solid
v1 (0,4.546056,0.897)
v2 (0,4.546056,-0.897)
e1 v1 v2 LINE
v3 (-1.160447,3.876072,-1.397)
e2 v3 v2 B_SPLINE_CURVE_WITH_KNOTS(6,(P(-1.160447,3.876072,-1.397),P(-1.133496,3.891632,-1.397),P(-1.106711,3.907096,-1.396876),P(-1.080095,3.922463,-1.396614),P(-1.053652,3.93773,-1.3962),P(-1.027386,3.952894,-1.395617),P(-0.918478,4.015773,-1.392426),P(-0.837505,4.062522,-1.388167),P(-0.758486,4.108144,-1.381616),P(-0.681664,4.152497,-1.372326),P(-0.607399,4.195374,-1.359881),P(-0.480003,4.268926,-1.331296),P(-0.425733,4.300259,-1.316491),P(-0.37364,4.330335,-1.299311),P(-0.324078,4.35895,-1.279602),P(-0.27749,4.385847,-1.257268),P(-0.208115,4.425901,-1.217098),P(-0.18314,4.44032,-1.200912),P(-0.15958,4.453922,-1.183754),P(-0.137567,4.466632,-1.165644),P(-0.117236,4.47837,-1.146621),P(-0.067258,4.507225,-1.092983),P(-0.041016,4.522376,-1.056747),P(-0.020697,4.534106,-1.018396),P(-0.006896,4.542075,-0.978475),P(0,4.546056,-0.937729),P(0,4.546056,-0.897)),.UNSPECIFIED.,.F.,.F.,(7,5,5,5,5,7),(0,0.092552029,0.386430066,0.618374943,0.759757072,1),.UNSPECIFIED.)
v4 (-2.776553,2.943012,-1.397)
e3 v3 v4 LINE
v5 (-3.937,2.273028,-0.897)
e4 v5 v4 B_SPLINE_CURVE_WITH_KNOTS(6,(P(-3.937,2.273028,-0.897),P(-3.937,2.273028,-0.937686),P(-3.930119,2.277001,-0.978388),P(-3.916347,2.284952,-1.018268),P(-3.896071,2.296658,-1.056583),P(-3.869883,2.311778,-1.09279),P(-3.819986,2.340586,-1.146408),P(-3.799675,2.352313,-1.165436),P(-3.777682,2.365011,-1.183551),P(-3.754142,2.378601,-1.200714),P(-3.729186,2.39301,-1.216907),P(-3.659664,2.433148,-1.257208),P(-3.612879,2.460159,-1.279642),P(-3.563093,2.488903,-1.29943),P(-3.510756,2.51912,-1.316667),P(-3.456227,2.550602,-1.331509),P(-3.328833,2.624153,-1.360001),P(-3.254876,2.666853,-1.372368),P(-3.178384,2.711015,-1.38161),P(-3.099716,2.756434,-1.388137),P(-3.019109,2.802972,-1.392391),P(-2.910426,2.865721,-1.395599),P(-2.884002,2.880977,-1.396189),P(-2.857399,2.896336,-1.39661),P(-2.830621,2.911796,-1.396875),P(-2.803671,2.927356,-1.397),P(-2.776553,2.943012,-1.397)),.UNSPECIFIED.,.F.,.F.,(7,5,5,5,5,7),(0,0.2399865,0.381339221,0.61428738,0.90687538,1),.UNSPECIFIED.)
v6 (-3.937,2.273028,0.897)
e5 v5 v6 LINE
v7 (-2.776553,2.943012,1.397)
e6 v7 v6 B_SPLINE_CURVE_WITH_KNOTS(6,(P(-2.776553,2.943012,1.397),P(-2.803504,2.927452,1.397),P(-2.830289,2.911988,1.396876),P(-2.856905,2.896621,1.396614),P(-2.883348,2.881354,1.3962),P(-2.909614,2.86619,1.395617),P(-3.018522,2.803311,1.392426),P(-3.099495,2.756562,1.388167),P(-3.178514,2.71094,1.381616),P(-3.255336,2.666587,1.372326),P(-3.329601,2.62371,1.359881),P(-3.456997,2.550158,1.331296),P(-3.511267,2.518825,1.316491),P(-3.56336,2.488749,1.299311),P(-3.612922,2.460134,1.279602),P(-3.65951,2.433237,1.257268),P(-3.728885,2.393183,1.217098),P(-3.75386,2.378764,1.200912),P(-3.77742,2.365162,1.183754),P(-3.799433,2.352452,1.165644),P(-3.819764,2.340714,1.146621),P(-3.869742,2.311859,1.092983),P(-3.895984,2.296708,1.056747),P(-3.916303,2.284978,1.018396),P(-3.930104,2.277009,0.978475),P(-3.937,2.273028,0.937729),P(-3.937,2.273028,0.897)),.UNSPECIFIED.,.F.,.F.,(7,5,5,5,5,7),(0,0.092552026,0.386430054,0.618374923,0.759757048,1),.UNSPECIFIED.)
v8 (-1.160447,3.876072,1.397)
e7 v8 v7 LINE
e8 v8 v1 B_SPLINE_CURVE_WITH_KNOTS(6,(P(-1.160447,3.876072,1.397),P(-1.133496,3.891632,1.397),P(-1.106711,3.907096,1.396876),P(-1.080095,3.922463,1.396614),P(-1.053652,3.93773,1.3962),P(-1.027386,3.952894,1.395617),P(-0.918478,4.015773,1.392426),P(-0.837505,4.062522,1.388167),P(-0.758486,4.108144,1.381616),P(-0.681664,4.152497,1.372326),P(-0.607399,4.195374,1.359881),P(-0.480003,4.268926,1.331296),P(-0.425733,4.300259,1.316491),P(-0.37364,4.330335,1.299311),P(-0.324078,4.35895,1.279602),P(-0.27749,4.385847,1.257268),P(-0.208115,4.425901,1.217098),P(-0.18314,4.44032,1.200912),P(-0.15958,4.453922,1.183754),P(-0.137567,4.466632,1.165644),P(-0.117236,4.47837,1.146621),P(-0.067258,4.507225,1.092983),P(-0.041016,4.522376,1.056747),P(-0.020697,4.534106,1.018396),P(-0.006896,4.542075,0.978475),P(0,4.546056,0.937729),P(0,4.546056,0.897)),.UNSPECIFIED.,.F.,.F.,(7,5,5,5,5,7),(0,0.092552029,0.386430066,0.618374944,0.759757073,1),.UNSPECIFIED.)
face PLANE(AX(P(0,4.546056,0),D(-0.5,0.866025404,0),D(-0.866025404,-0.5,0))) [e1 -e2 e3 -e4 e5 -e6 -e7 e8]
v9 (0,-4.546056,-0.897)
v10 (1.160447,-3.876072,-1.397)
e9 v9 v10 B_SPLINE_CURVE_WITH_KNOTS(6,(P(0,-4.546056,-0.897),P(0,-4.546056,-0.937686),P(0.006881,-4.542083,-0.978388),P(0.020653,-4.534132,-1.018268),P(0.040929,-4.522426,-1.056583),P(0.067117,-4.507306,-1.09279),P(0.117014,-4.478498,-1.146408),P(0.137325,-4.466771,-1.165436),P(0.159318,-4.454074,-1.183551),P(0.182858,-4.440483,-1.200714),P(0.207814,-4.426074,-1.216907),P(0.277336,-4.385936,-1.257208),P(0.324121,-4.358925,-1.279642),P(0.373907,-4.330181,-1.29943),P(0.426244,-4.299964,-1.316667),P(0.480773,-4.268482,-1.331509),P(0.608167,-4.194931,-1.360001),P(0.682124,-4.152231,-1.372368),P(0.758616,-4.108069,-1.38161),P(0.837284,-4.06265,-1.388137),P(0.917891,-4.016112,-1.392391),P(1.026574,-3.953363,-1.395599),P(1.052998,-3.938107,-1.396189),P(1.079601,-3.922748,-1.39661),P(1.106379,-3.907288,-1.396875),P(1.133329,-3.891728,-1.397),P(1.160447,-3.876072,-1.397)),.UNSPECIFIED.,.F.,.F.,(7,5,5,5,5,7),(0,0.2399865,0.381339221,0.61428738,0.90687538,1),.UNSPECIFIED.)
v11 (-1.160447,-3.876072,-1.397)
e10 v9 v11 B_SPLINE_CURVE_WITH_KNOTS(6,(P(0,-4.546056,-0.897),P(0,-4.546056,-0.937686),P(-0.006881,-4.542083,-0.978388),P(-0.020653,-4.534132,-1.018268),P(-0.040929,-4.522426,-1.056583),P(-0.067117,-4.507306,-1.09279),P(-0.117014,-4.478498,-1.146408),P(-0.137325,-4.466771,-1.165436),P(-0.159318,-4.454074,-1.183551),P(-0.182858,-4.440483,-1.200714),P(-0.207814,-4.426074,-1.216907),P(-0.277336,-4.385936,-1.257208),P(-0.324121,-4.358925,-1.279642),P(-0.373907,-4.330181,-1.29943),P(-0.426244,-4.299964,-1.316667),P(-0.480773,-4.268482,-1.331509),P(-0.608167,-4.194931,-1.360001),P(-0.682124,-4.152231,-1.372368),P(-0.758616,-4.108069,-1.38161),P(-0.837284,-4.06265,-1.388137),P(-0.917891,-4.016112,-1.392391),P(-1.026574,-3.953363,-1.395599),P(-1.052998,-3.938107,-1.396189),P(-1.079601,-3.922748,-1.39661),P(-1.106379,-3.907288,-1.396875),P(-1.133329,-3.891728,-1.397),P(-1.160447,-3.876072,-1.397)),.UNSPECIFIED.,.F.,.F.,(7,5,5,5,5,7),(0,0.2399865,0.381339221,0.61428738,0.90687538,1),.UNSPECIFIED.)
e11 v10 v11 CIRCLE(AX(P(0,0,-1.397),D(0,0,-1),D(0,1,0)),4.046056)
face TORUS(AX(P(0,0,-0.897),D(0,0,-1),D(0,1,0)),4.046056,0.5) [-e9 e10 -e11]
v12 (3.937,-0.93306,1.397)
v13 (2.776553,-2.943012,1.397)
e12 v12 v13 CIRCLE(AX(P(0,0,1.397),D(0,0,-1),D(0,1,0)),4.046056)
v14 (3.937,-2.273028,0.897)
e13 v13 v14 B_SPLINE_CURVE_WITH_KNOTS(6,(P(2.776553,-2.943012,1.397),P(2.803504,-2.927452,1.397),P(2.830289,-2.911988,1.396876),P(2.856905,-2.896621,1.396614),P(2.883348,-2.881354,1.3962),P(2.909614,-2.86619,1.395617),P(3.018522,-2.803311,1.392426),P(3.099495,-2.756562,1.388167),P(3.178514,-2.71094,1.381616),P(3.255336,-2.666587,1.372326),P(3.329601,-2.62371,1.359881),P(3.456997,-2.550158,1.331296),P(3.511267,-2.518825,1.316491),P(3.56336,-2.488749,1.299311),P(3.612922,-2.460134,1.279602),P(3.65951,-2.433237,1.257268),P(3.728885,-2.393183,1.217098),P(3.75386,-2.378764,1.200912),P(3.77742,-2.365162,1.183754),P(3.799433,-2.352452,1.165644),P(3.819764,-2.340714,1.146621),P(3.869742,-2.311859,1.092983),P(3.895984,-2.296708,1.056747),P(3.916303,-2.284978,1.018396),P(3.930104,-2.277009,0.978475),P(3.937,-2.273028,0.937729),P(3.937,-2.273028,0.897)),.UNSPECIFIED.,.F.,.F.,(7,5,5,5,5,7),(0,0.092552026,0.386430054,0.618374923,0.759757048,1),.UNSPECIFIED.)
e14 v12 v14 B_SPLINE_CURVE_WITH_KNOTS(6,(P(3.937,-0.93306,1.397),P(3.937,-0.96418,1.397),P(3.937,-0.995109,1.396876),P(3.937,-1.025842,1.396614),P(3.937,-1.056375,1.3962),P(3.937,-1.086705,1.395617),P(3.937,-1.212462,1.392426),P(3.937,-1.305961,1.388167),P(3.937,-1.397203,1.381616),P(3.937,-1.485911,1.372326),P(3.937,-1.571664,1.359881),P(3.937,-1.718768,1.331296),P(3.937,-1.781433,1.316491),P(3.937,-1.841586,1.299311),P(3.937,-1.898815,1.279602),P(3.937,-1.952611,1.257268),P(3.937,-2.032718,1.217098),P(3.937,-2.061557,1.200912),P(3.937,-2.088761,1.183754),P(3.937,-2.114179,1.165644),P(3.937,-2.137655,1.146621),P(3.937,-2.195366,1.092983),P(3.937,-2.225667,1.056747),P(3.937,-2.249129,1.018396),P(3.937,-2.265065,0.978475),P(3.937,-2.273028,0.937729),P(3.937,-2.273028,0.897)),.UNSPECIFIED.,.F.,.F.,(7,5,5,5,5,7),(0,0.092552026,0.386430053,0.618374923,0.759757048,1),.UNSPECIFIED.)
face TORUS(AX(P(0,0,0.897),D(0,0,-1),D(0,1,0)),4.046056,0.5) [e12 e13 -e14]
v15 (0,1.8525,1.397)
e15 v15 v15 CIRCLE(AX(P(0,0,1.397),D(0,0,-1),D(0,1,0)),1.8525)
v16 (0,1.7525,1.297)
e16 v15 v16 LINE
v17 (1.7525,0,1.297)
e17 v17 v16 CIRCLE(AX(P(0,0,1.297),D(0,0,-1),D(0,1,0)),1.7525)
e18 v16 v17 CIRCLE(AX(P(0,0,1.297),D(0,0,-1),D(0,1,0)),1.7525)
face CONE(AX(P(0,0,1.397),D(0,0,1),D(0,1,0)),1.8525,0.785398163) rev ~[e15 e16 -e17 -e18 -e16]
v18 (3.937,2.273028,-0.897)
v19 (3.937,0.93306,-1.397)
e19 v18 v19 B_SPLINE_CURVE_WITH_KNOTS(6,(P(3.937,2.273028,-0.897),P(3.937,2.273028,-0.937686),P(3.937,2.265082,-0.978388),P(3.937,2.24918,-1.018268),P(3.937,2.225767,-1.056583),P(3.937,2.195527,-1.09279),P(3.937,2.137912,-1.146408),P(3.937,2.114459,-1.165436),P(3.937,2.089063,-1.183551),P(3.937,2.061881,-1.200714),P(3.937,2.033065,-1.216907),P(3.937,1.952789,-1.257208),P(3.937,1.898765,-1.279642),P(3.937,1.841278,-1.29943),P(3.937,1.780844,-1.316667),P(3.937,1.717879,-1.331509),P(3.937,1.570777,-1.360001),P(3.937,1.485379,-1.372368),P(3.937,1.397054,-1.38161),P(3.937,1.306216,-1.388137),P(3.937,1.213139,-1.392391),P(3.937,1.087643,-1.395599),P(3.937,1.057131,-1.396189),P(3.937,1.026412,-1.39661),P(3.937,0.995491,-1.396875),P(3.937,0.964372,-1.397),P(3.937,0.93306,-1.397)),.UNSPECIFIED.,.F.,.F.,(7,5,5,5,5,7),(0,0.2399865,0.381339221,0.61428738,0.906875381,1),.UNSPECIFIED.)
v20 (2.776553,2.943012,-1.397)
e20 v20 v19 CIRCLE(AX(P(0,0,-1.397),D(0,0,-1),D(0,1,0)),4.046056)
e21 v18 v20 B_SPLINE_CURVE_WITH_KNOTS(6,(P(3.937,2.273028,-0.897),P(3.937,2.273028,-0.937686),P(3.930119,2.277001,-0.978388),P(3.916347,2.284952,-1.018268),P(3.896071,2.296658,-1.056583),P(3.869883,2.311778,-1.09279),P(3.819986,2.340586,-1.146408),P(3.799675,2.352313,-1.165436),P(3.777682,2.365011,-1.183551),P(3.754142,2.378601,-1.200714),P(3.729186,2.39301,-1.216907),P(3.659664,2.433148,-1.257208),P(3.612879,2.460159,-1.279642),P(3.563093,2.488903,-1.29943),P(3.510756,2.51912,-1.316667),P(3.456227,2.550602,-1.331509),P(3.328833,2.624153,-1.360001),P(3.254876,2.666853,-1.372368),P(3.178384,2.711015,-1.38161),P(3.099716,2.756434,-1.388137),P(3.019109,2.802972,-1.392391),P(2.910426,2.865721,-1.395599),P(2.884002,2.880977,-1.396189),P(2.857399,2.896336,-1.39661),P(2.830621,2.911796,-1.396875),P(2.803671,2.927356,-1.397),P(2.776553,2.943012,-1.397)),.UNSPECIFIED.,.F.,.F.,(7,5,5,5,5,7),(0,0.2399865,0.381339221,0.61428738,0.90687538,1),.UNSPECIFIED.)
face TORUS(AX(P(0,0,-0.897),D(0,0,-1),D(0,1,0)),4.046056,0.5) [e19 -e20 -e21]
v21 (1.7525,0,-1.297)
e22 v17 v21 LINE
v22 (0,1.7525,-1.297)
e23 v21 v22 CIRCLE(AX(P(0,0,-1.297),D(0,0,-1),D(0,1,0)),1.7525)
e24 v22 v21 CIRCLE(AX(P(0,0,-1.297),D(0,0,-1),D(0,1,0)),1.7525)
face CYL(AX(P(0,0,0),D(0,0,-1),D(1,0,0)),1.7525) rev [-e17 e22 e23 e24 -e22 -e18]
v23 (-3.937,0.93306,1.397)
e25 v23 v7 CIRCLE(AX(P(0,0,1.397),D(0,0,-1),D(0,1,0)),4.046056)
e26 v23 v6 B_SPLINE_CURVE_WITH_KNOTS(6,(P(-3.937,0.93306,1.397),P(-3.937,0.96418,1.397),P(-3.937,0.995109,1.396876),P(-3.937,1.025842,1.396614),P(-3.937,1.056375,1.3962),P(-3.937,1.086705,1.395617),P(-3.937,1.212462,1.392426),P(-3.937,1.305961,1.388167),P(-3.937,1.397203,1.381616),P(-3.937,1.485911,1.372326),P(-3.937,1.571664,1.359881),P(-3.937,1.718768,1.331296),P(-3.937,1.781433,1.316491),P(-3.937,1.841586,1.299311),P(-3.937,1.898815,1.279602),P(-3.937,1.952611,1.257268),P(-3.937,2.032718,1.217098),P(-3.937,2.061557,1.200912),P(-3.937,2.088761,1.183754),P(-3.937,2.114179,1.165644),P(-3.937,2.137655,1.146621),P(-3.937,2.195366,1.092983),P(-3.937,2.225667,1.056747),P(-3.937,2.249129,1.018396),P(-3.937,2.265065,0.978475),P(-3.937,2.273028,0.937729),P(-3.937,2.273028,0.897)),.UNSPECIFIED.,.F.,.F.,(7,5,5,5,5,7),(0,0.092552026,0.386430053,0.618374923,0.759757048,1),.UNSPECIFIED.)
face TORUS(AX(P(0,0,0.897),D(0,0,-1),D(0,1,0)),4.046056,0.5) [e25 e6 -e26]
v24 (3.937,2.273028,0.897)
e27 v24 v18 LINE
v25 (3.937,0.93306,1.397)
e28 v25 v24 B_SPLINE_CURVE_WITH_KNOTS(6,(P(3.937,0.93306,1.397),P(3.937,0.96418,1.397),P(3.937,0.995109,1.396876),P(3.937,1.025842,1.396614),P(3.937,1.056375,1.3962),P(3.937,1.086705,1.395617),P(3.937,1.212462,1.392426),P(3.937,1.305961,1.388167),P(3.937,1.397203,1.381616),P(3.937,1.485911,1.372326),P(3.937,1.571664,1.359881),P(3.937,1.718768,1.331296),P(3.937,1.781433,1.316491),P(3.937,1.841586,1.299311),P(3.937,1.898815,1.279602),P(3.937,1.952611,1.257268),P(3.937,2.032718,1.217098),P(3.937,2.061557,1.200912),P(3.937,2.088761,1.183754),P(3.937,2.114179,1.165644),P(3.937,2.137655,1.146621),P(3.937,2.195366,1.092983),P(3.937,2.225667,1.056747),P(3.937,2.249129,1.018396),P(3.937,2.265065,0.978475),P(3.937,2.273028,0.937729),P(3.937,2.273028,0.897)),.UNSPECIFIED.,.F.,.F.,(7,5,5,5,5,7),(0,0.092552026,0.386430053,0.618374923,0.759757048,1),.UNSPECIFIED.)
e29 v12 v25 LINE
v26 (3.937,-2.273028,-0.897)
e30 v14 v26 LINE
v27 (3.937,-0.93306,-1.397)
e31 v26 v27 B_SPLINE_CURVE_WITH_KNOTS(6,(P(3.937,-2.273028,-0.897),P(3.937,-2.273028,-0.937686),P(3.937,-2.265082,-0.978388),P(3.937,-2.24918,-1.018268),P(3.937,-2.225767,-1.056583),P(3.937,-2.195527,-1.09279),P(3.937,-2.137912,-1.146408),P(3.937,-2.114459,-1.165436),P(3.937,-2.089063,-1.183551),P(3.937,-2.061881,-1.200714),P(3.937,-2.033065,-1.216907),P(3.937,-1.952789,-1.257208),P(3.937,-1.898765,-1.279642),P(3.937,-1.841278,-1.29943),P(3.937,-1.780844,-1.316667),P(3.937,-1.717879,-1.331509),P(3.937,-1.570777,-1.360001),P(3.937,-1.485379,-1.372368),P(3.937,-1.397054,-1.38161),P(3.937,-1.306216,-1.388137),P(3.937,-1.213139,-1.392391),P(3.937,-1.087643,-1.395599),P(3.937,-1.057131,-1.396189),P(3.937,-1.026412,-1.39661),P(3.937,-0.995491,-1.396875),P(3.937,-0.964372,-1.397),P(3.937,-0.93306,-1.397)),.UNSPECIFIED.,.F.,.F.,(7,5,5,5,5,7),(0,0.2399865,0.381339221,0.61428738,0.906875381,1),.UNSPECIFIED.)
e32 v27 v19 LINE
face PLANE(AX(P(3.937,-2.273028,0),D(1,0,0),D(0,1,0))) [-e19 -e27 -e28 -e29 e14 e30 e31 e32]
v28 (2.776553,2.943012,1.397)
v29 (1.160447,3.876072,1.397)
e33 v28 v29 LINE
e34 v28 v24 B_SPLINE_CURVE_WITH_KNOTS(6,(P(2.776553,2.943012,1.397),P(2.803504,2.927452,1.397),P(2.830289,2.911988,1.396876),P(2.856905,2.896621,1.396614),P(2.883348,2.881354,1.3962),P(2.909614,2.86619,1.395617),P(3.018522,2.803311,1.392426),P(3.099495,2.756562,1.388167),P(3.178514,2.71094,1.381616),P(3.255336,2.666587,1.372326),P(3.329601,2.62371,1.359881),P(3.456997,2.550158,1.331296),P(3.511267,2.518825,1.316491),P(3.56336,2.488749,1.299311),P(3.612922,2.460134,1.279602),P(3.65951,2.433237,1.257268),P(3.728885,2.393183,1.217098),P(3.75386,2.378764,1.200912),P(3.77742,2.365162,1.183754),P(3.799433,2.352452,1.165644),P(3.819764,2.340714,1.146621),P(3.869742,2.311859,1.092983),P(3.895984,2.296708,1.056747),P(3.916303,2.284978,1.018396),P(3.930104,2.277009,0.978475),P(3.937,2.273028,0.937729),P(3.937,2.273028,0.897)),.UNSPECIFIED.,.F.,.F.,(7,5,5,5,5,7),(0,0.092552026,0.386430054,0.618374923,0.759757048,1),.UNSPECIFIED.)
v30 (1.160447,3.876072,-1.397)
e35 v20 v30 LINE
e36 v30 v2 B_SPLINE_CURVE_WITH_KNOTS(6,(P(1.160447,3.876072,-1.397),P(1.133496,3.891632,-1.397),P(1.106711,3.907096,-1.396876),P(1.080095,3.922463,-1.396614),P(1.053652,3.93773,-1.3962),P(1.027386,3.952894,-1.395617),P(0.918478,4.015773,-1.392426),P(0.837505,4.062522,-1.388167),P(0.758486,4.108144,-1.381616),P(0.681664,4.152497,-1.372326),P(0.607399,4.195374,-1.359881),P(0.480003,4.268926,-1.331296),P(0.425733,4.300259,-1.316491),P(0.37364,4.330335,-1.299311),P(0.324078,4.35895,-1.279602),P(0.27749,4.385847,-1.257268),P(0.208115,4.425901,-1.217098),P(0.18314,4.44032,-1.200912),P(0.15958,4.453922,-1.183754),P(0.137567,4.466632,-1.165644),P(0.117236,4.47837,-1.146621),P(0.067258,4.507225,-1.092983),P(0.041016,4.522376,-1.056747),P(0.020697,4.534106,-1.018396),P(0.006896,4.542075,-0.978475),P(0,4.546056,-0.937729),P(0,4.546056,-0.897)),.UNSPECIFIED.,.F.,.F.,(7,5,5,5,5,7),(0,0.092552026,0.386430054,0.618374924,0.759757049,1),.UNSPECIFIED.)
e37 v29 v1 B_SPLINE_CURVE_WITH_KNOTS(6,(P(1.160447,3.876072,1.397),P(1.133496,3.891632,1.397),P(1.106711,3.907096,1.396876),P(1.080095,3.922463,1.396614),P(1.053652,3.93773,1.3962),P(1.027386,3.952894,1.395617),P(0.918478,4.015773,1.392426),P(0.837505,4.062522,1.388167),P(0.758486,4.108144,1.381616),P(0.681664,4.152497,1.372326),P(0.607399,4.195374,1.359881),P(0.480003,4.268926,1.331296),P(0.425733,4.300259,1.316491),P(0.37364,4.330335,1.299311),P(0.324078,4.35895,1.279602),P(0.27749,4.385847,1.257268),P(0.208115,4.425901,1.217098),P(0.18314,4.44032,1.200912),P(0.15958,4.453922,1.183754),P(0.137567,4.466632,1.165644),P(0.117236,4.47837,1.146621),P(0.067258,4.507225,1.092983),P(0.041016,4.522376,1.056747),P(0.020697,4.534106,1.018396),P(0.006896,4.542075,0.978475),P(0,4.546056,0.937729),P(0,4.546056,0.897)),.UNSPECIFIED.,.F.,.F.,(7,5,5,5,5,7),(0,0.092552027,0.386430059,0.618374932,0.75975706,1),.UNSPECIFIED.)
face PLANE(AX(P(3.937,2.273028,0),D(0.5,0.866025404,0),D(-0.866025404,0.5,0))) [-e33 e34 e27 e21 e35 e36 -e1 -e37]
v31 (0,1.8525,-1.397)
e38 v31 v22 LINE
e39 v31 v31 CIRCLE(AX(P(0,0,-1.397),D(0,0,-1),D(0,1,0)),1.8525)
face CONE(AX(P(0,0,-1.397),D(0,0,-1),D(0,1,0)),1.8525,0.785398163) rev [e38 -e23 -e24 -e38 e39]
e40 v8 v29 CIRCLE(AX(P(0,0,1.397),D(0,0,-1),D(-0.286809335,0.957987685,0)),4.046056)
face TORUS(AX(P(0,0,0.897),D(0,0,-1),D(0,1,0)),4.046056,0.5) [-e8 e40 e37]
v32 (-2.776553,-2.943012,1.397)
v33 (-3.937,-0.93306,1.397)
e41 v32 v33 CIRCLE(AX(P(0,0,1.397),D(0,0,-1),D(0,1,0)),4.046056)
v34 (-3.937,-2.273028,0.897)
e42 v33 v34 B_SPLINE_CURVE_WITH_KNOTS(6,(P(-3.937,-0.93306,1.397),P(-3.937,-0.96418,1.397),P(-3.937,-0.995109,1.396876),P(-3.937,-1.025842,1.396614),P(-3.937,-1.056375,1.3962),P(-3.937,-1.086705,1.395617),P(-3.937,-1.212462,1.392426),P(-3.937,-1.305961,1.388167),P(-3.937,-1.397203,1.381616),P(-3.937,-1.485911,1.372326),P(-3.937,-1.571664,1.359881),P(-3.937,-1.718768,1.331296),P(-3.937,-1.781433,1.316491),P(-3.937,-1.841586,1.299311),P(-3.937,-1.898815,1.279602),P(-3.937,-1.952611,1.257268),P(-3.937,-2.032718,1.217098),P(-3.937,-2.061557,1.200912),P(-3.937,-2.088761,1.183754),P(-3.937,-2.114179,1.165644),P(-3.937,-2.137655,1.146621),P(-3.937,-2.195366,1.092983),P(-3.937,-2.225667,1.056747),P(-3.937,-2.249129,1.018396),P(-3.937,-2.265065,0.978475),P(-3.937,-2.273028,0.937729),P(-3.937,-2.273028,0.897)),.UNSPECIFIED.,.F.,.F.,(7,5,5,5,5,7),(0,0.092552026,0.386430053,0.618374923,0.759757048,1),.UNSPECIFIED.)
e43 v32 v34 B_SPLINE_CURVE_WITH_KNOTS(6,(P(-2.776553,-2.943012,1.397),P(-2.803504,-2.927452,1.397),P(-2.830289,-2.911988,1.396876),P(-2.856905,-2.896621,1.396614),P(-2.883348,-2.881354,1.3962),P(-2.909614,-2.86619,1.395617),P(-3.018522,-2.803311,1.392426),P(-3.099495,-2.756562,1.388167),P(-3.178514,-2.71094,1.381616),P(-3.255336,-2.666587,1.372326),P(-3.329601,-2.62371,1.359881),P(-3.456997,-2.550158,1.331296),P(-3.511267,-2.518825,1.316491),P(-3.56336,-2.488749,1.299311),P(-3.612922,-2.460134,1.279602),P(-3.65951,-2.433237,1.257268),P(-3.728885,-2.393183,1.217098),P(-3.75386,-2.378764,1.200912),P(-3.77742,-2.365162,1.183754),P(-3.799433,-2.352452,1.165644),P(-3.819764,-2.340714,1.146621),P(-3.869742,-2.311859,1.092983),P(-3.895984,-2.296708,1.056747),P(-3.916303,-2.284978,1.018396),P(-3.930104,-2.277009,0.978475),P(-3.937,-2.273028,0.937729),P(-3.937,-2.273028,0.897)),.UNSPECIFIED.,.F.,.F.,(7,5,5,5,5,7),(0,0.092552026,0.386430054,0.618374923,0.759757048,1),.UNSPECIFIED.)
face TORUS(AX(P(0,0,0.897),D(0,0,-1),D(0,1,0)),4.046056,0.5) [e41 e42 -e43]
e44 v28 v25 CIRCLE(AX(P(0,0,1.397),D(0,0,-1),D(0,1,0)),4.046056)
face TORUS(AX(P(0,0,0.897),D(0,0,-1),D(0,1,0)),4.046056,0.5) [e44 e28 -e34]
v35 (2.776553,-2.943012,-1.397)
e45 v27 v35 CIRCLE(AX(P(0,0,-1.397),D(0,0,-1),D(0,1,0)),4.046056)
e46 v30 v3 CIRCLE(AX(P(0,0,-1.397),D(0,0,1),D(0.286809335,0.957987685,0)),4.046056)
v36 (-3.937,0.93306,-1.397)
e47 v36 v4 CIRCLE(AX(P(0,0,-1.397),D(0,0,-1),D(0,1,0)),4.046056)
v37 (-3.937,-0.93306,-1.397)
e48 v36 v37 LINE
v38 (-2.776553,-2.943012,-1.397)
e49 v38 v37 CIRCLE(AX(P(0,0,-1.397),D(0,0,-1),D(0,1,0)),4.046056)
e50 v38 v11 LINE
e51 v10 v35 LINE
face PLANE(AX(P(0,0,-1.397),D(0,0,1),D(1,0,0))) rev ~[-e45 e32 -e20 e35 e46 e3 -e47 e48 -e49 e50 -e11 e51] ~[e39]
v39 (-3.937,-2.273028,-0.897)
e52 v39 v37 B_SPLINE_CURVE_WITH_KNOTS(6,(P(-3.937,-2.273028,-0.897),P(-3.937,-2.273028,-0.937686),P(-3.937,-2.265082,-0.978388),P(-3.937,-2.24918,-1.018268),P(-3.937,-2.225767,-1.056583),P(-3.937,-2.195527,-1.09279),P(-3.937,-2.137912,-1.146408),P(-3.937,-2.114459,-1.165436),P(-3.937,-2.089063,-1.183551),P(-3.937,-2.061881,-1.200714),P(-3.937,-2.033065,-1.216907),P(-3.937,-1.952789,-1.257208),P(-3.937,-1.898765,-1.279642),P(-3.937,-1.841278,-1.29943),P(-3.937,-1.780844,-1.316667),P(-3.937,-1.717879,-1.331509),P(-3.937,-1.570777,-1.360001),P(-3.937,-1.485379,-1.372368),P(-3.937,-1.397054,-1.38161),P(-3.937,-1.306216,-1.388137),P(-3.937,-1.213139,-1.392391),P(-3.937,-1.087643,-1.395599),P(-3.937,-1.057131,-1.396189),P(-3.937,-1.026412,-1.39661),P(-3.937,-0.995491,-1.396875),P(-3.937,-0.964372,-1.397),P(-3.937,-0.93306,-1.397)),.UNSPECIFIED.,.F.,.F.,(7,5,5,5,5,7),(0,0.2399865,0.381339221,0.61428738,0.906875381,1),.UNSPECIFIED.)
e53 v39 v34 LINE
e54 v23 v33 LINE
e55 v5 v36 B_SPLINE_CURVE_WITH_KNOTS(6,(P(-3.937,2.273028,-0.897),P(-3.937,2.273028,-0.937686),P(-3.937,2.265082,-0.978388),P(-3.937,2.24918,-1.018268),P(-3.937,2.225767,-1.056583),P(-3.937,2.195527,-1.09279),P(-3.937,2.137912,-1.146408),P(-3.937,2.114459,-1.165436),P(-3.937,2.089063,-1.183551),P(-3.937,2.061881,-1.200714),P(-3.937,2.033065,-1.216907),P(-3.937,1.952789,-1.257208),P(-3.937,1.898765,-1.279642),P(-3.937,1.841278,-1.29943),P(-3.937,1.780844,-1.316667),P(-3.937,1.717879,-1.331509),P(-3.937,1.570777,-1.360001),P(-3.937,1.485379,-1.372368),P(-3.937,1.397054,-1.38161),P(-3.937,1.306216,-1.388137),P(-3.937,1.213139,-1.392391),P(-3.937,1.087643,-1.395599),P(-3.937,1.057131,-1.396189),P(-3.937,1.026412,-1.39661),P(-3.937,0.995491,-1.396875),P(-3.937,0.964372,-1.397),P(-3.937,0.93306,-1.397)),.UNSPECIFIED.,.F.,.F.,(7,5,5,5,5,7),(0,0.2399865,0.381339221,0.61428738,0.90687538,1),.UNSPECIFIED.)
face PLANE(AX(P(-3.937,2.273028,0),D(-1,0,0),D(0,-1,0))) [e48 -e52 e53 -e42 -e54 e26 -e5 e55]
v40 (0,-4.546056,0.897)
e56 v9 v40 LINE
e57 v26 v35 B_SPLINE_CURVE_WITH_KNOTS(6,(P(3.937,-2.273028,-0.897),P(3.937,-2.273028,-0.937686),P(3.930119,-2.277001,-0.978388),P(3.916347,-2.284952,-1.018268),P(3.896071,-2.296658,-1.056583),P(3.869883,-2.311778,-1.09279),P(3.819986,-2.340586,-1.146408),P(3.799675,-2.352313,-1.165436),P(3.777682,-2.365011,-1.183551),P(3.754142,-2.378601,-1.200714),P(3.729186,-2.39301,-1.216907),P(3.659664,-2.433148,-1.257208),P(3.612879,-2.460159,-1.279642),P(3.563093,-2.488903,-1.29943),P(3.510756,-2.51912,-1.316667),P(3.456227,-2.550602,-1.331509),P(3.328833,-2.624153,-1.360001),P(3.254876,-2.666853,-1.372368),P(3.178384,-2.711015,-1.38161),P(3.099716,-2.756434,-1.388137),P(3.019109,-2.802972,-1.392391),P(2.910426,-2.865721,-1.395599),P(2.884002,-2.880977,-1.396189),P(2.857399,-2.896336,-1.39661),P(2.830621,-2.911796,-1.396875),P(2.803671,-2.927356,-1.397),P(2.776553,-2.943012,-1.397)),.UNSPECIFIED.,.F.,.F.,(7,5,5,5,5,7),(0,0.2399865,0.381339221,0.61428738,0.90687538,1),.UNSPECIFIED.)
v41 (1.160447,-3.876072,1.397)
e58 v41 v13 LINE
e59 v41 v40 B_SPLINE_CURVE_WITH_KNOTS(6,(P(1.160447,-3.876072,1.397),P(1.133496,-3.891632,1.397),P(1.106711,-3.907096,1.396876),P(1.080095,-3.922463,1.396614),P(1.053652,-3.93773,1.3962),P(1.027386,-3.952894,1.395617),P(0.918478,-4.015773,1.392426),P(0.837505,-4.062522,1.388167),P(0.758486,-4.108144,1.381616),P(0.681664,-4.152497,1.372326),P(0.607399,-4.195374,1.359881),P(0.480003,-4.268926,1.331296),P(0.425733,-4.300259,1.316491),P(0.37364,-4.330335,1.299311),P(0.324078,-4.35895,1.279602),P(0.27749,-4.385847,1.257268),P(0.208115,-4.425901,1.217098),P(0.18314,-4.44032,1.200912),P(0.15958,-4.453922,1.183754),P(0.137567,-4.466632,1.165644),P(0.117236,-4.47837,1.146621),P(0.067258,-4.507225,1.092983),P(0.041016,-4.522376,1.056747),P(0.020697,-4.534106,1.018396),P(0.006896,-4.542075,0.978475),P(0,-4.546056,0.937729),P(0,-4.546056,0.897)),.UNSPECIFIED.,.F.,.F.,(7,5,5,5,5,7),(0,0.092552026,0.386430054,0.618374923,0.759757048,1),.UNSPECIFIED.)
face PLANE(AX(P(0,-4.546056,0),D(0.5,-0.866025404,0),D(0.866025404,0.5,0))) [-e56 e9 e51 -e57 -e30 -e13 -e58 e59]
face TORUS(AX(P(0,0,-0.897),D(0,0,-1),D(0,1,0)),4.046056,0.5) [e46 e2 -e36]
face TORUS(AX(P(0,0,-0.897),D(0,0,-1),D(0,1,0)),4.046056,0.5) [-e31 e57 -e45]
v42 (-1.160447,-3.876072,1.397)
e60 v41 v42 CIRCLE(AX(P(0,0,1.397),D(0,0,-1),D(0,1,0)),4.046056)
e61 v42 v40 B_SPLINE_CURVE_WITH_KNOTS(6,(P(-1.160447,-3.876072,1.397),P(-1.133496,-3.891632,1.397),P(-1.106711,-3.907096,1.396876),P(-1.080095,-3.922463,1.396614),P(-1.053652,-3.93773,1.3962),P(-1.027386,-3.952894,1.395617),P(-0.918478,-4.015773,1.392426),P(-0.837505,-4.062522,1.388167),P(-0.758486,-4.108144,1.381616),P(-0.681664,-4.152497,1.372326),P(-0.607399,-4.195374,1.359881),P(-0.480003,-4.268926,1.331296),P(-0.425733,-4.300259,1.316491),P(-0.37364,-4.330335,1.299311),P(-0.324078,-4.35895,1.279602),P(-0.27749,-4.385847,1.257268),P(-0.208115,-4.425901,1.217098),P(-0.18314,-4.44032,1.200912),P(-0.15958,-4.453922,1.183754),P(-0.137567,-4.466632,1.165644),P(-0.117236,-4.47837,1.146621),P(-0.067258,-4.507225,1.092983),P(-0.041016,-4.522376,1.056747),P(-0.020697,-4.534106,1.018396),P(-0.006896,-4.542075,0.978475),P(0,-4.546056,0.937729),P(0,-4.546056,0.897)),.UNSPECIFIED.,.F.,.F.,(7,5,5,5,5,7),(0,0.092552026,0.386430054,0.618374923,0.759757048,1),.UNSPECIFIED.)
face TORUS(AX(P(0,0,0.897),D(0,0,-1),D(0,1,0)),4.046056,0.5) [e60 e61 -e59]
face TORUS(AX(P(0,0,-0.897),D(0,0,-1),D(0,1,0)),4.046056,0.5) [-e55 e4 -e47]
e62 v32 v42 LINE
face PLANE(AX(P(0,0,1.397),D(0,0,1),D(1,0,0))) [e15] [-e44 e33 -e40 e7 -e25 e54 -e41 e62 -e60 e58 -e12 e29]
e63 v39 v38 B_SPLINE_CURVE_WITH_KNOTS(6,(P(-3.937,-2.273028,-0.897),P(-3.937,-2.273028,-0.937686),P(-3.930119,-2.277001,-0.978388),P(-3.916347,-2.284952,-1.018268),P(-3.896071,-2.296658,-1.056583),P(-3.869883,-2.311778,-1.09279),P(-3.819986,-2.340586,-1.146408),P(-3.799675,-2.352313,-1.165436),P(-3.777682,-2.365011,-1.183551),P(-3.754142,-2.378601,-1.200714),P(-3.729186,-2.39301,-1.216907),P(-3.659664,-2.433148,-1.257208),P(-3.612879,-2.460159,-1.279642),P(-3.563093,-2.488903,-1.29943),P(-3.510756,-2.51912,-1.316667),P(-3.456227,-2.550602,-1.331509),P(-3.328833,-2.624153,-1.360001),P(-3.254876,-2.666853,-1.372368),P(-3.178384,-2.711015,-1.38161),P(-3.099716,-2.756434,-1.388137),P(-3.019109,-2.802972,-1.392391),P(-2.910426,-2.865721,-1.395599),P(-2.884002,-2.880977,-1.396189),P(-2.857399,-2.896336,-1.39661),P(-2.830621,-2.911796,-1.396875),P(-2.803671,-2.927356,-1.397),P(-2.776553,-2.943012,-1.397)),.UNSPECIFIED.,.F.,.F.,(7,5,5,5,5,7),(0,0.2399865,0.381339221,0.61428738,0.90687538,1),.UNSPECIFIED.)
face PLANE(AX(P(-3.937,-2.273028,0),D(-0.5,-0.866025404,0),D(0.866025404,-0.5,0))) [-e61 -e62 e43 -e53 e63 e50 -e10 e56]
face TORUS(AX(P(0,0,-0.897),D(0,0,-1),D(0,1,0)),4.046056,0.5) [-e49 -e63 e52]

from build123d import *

# Parameters (mm, degrees)
SKETCH1_R          = 1.7525
BASE_EXTRUDE_DEPTH = 1.397


with BuildPart() as part:
    # Sketch1 → Base-Extrude (new body, symmetric)
    with BuildSketch(Plane.XY):
        Polygon((0, 4.54605602), (-3.937, 2.27302801), (-3.937, -2.27302801), (0, -4.54605602), (3.937, -2.27302801), (3.937, 2.27302801), align=None)
        Circle(SKETCH1_R, mode=Mode.SUBTRACT)
    extrude(amount=BASE_EXTRUDE_DEPTH, both=True)

    # Sketch2 → DetailCut (revolve, cut)
    with BuildSketch(Plane(origin=(0, 0, 0), x_dir=(0, 0, -1), z_dir=(1, 0, 0))):
        Polygon((-1.397, 1.7525), (-1.397, 1.8525), (-1.297, 1.7525), align=None)
        with BuildLine():
            Line((-1.397, 4.54605602), (-1.397, 4.04605602))
            ThreePointArc((-1.397, 4.04605602), (-1.250553391, 4.39960941), (-0.897, 4.54605602))
            Line((-0.897, 4.54605602), (-1.397, 4.54605602))
        make_face()
        with BuildLine():
            Line((1.397, 4.54605602), (0.897, 4.54605602))
            ThreePointArc((0.897, 4.54605602), (1.250553391, 4.39960941), (1.397, 4.04605602))
            Line((1.397, 4.04605602), (1.397, 4.54605602))
        make_face()
        Polygon((1.297, 1.7525), (1.397, 1.7525), (1.397, 1.8525), align=None)
    revolve(axis=Axis((0, 0, 0), (0, 0, -1)), mode=Mode.SUBTRACT)


solid = part.part
